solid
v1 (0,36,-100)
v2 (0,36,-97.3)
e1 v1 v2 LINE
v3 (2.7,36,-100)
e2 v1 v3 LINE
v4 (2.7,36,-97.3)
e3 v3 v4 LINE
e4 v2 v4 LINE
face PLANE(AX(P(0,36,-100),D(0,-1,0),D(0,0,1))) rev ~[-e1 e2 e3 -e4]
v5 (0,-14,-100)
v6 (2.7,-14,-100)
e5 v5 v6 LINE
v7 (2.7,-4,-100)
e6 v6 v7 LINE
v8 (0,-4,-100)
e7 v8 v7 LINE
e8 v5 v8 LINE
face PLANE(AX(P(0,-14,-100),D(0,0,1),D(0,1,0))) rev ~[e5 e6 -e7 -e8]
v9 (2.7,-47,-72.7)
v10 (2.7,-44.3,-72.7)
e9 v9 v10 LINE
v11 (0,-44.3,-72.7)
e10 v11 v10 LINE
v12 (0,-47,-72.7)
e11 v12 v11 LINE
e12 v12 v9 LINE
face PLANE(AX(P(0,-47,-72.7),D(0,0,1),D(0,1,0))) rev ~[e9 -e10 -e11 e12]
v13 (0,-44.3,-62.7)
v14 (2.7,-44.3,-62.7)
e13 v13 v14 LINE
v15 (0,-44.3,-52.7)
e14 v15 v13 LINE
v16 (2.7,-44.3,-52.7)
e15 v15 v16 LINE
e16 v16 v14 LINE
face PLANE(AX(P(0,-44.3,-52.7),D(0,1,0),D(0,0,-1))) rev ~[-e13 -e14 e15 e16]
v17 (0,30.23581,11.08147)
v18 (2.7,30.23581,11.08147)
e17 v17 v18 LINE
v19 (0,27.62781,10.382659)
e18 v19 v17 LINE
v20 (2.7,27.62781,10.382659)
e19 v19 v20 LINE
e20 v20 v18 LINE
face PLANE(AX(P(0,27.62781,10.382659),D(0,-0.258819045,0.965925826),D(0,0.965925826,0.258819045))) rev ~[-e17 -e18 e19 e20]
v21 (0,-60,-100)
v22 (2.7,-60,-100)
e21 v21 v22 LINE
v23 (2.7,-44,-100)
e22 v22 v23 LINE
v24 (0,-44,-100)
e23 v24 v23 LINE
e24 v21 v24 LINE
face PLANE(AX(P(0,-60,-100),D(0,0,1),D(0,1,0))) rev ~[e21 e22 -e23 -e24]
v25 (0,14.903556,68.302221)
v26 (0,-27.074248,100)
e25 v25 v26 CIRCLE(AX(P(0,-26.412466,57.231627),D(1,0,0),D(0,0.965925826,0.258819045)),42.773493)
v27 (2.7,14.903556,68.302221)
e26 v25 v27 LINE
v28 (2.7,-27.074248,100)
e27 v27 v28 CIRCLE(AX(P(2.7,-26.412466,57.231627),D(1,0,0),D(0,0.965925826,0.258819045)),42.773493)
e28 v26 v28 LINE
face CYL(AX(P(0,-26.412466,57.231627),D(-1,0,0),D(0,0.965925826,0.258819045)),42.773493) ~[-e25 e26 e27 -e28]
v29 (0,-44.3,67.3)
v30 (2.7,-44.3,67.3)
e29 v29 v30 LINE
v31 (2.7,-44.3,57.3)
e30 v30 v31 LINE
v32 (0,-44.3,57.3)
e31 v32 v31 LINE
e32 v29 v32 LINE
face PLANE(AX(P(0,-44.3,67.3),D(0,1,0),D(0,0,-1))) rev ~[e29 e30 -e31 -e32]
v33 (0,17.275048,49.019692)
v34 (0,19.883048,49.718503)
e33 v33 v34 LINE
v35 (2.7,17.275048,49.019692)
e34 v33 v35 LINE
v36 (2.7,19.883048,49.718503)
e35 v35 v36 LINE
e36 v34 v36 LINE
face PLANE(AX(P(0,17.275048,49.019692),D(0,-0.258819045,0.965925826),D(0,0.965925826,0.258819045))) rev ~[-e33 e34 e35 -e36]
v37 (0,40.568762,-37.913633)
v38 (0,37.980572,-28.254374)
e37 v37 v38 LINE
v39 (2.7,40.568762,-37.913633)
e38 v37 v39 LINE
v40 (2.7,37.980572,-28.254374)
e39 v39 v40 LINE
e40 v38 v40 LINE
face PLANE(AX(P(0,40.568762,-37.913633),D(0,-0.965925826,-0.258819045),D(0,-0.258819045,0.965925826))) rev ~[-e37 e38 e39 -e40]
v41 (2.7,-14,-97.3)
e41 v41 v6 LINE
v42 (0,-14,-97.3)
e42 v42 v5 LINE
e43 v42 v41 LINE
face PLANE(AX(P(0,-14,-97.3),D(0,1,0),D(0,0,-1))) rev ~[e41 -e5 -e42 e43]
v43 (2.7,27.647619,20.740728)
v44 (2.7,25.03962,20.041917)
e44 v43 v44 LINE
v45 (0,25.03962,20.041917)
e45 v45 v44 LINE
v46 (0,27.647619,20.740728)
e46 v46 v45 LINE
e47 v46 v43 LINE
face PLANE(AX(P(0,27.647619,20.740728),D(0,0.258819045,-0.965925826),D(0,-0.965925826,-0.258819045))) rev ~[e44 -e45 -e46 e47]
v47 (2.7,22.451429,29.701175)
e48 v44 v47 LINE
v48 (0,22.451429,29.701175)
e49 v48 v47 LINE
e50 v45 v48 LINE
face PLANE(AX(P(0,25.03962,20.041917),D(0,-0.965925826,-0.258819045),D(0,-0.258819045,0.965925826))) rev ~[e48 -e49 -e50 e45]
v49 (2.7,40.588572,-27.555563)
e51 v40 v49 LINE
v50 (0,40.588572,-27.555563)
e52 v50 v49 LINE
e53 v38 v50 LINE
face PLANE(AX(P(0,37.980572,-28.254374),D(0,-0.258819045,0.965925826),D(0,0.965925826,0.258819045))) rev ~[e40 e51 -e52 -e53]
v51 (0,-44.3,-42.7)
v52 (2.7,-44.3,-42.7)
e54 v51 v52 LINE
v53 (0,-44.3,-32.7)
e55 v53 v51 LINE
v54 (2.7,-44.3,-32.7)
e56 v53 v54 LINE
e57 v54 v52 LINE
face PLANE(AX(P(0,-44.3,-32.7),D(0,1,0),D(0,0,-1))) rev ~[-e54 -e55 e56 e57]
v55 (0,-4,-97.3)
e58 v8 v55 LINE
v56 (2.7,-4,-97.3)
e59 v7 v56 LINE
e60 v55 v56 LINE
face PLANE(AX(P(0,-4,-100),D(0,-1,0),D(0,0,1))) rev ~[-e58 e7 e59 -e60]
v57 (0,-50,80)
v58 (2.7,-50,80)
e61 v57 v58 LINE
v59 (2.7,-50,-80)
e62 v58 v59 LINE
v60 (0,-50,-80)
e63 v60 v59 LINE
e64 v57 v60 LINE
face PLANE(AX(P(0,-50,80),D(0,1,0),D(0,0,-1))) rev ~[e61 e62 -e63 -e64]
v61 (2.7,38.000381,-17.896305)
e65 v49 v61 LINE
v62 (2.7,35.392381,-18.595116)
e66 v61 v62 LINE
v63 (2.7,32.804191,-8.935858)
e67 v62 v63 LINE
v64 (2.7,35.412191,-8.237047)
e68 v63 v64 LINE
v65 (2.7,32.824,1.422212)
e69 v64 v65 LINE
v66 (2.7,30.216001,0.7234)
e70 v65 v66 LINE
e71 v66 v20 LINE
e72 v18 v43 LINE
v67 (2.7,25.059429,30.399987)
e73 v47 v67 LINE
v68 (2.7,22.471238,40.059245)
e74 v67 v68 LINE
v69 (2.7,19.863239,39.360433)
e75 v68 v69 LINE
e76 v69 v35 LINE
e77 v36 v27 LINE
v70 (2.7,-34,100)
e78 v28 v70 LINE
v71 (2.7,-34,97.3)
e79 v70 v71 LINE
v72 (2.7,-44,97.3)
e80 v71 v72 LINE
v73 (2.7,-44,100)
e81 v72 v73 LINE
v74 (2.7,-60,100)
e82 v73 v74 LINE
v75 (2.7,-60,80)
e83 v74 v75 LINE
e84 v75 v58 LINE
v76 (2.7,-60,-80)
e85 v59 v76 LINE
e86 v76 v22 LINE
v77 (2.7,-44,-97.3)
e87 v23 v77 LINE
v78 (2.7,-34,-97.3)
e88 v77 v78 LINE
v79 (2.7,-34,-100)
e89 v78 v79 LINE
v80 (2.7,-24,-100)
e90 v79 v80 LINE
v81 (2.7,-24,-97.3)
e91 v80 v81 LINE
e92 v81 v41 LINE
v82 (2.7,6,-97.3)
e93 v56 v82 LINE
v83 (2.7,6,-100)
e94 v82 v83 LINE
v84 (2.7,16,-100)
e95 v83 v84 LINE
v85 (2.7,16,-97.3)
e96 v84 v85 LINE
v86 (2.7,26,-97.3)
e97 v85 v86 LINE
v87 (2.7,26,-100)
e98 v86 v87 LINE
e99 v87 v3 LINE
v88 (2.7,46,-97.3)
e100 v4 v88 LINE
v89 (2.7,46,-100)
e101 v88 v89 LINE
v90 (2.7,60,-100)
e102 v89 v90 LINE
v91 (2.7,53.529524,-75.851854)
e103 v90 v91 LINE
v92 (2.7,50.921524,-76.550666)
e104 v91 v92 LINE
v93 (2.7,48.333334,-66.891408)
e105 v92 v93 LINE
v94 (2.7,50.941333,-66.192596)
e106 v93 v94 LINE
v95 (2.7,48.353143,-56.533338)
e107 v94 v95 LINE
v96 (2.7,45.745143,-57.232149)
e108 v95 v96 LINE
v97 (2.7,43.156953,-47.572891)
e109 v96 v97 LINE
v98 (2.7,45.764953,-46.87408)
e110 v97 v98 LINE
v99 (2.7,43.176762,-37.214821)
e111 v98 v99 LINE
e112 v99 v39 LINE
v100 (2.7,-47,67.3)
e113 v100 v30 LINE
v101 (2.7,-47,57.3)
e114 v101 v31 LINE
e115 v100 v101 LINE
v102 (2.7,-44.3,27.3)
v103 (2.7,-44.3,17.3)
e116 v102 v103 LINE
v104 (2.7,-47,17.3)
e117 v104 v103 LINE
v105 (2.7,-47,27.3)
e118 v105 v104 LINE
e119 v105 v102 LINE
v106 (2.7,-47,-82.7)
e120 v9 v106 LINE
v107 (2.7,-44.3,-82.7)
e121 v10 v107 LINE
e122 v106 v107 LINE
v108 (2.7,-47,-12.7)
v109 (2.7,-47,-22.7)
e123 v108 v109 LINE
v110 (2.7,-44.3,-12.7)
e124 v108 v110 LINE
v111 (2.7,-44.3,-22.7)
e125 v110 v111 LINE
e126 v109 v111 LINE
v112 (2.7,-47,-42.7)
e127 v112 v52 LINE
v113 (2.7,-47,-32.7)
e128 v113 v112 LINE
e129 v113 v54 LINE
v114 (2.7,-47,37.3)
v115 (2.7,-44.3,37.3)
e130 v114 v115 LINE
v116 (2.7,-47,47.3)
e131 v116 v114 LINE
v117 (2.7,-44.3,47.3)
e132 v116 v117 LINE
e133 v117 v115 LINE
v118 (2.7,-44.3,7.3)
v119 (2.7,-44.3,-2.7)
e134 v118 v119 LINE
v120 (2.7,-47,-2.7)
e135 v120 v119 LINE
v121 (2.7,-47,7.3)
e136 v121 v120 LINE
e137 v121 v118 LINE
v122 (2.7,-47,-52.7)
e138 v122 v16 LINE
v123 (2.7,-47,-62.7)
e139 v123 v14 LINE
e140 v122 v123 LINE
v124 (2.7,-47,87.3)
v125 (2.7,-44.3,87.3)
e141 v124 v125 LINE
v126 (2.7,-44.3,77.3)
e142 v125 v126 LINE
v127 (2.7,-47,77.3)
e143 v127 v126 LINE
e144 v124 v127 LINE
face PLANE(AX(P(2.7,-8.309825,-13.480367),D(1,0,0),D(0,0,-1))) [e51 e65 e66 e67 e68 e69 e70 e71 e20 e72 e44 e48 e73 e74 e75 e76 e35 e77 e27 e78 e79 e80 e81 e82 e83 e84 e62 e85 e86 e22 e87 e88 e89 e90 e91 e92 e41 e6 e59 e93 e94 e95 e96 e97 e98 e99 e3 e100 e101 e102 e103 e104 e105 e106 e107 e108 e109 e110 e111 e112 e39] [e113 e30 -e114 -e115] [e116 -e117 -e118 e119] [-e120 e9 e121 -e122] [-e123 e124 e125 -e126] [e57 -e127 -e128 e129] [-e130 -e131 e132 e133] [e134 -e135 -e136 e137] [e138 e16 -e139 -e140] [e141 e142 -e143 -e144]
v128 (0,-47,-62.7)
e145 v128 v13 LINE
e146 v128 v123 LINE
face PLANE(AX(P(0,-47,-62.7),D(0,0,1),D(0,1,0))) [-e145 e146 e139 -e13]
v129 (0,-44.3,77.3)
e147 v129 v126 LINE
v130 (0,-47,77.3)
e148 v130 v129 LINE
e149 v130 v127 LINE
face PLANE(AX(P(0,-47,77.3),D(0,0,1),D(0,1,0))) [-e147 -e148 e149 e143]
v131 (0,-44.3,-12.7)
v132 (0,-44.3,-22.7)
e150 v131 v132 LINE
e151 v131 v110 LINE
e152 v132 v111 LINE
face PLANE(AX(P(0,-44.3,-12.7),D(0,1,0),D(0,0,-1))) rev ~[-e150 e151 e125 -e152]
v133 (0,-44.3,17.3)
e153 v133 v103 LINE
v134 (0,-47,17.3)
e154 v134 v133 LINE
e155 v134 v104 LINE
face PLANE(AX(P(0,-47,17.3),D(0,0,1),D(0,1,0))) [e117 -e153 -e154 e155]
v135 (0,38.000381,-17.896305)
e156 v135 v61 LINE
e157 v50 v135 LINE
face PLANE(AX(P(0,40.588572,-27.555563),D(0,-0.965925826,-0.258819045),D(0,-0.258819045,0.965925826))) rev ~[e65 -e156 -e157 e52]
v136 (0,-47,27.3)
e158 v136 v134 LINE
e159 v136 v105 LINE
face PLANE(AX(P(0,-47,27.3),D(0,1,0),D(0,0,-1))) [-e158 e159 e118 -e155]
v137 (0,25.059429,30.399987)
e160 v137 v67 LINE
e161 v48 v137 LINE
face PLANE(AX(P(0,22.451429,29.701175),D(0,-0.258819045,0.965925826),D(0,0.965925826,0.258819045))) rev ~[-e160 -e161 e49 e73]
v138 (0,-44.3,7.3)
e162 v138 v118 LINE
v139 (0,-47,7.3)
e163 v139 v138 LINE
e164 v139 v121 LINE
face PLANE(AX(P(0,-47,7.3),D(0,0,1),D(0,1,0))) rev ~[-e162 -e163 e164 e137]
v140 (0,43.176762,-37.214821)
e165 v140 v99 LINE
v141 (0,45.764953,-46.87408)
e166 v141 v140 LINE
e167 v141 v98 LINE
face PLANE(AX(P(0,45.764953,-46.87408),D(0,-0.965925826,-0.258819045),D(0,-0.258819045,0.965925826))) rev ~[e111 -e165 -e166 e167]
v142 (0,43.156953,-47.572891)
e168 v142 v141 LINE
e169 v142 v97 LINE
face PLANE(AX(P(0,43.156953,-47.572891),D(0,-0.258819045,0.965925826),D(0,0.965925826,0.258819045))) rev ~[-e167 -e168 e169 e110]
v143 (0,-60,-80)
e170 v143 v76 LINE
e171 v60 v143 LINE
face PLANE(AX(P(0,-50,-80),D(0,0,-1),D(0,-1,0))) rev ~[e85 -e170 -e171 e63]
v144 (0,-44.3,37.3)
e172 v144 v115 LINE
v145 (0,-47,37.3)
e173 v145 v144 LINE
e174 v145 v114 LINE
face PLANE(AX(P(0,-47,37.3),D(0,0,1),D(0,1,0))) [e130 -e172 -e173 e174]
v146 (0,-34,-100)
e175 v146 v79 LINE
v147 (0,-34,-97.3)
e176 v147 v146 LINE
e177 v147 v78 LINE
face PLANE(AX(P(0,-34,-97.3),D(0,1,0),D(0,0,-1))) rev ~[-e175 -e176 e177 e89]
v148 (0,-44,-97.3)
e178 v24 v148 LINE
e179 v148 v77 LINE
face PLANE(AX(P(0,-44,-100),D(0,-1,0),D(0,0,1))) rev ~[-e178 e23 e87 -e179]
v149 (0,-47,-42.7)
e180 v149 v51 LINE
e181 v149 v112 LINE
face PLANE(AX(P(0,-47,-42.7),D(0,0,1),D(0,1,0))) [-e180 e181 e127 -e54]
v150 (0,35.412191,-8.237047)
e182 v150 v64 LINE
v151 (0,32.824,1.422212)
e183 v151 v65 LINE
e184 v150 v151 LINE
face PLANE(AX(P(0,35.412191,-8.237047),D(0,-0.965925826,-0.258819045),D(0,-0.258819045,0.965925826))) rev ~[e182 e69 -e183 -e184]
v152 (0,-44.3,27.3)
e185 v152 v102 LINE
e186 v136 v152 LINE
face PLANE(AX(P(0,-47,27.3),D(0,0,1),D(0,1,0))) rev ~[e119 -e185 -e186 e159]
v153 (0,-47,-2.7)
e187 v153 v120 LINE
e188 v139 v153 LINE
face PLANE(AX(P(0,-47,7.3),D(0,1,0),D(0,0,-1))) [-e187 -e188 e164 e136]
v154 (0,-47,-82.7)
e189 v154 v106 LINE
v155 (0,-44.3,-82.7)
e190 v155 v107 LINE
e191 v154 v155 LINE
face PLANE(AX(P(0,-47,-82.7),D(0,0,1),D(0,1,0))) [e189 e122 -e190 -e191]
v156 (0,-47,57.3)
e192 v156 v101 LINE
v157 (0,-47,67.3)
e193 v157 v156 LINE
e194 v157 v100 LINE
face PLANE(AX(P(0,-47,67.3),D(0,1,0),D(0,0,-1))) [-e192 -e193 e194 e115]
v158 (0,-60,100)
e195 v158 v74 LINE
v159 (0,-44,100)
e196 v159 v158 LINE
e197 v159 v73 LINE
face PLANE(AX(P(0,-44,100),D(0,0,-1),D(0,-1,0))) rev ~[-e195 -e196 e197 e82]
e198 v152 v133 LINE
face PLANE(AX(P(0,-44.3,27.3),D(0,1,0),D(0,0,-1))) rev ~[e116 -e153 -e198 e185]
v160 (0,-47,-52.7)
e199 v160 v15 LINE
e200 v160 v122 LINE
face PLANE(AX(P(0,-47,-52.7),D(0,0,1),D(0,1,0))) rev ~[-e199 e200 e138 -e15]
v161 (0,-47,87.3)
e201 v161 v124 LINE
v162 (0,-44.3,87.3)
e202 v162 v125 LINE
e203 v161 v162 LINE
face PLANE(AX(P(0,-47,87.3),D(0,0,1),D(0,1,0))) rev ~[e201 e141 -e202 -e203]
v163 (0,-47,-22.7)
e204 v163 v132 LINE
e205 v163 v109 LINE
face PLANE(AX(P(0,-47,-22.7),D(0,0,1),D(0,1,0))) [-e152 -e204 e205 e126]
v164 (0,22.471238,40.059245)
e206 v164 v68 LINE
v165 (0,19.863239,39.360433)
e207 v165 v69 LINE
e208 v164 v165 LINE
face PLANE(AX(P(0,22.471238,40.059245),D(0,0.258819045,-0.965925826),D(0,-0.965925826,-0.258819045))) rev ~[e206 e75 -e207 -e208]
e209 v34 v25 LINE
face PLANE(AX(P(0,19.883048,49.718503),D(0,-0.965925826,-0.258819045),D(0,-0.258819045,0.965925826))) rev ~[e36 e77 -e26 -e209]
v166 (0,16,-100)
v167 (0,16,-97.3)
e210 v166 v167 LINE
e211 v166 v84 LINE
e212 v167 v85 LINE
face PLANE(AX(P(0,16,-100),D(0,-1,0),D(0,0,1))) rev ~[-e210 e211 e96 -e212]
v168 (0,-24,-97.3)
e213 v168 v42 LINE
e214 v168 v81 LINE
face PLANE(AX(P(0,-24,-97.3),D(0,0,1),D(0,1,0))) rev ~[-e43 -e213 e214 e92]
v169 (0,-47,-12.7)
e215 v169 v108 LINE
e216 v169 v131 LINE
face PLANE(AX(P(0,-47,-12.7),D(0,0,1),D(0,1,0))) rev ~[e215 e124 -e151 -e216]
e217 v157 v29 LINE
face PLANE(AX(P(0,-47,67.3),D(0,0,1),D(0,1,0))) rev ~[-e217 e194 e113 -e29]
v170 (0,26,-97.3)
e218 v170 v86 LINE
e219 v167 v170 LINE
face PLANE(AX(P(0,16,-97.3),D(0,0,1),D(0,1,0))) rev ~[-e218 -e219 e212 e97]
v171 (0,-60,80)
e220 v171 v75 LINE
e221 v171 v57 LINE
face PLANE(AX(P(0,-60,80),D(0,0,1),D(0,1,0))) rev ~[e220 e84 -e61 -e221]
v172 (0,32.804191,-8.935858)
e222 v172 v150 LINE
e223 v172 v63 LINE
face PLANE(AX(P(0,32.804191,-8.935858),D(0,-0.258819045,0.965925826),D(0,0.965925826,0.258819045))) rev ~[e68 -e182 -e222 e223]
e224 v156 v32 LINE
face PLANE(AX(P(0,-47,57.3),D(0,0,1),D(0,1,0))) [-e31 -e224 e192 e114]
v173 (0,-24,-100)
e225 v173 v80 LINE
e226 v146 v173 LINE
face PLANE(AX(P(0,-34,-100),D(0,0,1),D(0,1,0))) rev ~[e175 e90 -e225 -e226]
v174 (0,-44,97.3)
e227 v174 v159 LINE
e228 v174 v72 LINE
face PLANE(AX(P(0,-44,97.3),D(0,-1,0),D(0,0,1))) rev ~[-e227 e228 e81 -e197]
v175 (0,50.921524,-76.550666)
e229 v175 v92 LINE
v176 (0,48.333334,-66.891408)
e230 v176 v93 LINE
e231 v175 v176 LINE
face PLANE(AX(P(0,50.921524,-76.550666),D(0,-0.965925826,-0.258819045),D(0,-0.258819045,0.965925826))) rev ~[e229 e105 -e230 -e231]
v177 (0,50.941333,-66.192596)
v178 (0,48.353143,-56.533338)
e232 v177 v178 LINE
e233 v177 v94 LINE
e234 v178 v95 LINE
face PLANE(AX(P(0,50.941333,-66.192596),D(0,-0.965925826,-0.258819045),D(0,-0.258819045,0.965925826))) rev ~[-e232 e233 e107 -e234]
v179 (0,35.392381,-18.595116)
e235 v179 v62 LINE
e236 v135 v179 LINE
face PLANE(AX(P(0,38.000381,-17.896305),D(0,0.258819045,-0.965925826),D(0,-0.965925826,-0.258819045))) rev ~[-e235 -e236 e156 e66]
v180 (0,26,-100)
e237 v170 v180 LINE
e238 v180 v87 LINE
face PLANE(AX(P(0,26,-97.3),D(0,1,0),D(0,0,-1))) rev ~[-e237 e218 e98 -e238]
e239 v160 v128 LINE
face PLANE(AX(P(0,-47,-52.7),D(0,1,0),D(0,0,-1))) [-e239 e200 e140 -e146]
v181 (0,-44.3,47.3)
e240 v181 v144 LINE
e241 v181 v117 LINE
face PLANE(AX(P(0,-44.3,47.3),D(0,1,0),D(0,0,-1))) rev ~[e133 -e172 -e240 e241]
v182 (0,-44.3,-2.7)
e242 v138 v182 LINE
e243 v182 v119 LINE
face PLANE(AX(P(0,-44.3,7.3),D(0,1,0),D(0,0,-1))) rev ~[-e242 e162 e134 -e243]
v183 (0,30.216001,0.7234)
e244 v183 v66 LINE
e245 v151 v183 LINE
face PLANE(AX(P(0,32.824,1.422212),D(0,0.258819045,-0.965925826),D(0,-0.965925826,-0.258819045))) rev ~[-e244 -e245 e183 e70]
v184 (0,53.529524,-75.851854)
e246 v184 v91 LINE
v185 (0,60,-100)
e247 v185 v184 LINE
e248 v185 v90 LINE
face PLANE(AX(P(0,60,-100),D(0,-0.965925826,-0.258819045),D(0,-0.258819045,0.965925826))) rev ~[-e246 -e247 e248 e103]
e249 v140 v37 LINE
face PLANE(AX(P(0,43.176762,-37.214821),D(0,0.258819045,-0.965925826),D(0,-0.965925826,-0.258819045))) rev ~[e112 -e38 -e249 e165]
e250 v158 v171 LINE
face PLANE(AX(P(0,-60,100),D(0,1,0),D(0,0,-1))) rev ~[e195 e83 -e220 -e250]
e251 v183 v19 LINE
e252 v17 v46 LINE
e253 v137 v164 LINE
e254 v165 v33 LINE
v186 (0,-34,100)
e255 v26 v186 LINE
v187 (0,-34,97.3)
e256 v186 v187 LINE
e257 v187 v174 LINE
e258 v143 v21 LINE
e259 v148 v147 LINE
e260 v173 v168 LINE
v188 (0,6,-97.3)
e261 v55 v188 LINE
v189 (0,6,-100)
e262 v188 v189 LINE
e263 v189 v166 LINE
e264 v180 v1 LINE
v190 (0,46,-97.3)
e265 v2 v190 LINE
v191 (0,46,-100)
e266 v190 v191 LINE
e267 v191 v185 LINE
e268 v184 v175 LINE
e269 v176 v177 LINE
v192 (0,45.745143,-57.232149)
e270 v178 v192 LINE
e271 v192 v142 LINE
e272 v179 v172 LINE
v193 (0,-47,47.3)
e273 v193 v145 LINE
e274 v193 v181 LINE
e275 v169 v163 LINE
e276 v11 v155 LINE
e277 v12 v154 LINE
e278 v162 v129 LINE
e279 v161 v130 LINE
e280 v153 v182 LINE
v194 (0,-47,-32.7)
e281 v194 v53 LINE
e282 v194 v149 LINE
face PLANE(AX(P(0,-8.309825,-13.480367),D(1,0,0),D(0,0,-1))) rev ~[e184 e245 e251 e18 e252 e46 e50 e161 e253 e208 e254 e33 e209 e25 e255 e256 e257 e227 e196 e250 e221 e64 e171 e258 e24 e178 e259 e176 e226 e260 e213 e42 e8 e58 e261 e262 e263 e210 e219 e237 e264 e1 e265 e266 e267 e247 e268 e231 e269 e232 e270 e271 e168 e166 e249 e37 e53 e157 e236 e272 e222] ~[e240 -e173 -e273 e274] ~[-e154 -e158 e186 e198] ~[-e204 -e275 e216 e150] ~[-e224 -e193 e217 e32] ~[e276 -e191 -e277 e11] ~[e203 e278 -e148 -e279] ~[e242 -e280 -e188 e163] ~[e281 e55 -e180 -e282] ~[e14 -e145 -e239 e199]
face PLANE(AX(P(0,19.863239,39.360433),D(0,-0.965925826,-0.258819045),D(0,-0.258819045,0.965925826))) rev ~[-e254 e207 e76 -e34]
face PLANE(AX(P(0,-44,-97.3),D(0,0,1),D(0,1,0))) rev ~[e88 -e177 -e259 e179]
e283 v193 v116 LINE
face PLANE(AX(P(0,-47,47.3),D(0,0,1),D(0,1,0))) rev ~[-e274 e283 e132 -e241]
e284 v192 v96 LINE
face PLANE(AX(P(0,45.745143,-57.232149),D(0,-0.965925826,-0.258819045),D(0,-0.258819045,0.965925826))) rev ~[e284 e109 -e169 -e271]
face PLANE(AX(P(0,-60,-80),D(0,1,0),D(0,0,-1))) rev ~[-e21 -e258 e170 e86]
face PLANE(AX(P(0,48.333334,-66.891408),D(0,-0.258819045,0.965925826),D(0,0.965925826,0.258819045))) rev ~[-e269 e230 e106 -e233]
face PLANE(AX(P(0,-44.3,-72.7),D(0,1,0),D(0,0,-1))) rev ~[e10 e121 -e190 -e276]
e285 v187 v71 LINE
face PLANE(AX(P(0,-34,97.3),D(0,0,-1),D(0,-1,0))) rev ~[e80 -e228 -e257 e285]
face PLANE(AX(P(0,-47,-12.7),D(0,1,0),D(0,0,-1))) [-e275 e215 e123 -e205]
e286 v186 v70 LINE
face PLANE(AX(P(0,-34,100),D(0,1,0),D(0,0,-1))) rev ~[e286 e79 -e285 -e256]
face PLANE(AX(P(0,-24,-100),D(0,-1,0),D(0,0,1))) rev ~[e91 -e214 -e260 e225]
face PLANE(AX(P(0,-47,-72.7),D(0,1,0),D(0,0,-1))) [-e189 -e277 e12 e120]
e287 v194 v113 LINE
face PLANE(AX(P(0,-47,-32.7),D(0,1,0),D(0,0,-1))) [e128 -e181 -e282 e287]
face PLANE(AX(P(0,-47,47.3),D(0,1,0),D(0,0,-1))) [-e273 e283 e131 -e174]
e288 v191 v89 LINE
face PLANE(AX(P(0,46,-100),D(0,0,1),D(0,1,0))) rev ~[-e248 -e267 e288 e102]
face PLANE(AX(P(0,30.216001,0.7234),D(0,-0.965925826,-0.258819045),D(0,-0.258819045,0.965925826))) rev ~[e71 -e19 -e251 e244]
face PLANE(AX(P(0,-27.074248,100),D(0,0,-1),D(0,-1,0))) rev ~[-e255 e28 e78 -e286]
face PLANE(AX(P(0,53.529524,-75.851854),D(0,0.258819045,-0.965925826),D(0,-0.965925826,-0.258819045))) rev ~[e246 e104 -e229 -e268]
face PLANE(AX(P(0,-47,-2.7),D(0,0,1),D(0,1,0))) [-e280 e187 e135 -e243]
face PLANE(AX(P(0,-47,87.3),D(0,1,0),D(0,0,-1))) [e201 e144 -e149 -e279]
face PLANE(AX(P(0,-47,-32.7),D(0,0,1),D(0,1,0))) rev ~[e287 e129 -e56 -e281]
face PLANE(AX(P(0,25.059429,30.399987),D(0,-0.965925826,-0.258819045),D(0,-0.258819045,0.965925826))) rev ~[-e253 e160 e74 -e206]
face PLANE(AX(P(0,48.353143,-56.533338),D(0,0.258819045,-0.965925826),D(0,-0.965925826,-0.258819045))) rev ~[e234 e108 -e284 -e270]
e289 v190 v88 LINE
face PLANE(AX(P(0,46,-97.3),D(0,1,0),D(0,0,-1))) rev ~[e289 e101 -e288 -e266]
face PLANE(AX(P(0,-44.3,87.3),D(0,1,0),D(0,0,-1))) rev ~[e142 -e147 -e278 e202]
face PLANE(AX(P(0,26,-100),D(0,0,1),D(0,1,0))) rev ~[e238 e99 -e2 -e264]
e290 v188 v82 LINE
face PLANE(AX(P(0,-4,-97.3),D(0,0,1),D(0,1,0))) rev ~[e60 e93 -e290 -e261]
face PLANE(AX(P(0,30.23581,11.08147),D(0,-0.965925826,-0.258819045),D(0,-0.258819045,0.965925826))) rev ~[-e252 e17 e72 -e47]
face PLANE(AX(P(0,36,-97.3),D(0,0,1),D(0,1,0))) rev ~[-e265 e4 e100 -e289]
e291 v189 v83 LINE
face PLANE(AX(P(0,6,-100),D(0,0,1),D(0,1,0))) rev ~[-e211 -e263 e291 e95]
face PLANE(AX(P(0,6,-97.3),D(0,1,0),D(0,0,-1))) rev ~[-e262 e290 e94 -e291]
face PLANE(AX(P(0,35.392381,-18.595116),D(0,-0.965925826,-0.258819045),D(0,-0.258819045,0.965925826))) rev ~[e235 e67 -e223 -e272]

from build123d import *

# Parameters (mm, degrees)
SKETCH1_W           = 10
SKETCH1_H           = 2.7
BOSS_EXTRUDE1_DEPTH = 2.7


with BuildPart() as part:
    # Sketch1 → Boss-Extrude1 (new body)
    with BuildSketch(Plane(origin=(0, 0, 0), x_dir=(0, 0, -1), z_dir=(1, 0, 0))):
        with BuildLine():
            Line((-100, -44), (-100, -60))
            Line((-100, -60), (-80, -60))
            Line((-80, -60), (-80, -50))
            Line((-80, -50), (80, -50))
            Line((80, -50), (80, -60))
            Line((80, -60), (100, -60))
            Line((100, -60), (100, -44))
            Line((100, -44), (97.3, -44))
            Line((97.3, -44), (97.3, -34))
            Line((97.3, -34), (100, -34))
            Line((100, -34), (100, -24))
            Line((100, -24), (97.3, -24))
            Line((97.3, -24), (97.3, -14))
            Line((97.3, -14), (100, -14))
            Line((100, -14), (100, -4))
            Line((100, -4), (97.3, -4))
            Line((97.3, -4), (97.3, 6))
            Line((97.3, 6), (100, 6))
            Line((100, 6), (100, 16))
            Line((100, 16), (97.3, 16))
            Line((97.3, 16), (97.3, 26))
            Line((97.3, 26), (100, 26))
            Line((100, 26), (100, 36))
            Line((100, 36), (97.3, 36))
            Line((97.3, 36), (97.3, 46))
            Line((97.3, 46), (100, 46))
            Line((100, 46), (100, 60))
            Line((100, 60), (75.851854343, 53.529523872))
            Line((75.851854343, 53.529523872), (76.550665765, 50.921524141))
            Line((76.550665765, 50.921524141), (66.891407502, 48.33333369))
            Line((66.891407502, 48.33333369), (66.19259608, 50.941333421))
            Line((66.19259608, 50.941333421), (56.533337817, 48.35314297))
            Line((56.533337817, 48.35314297), (57.232149239, 45.745143239))
            Line((57.232149239, 45.745143239), (47.572890976, 43.156952788))
            Line((47.572890976, 43.156952788), (46.874079554, 45.764952519))
            Line((46.874079554, 45.764952519), (37.214821291, 43.176762068))
            Line((37.214821291, 43.176762068), (37.913632713, 40.568762337))
            Line((37.913632713, 40.568762337), (28.25437445, 37.980571886))
            Line((28.25437445, 37.980571886), (27.555563028, 40.588571617))
            Line((27.555563028, 40.588571617), (17.896304765, 38.000381166))
            Line((17.896304765, 38.000381166), (18.595116187, 35.392381435))
            Line((18.595116187, 35.392381435), (8.935857924, 32.804190984))
            Line((8.935857924, 32.804190984), (8.237046503, 35.412190715))
            Line((8.237046503, 35.412190715), (-1.42221176, 32.824000264))
            Line((-1.42221176, 32.824000264), (-0.723400339, 30.216000533))
            Line((-0.723400339, 30.216000533), (-10.382658601, 27.627810082))
            Line((-10.382658601, 27.627810082), (-11.081470023, 30.235809813))
            Line((-11.081470023, 30.235809813), (-20.740728286, 27.647619362))
            Line((-20.740728286, 27.647619362), (-20.041916864, 25.039619631))
            Line((-20.041916864, 25.039619631), (-29.701175127, 22.45142918))
            Line((-29.701175127, 22.45142918), (-30.399986549, 25.059428911))
            Line((-30.399986549, 25.059428911), (-40.059244812, 22.47123846))
            Line((-40.059244812, 22.47123846), (-39.36043339, 19.863238729))
            Line((-39.36043339, 19.863238729), (-49.019691653, 17.275048278))
            Line((-49.019691653, 17.275048278), (-49.718503075, 19.883048009))
            Line((-49.718503075, 19.883048009), (-68.302221487, 14.903555668))
            ThreePointArc((-68.302221487, 14.903555668), (-91.366544651, -0.636913735), (-100, -27.074247963))
            Line((-100, -27.074247963), (-100, -34))
            Line((-100, -34), (-97.3, -34))
            Line((-97.3, -34), (-97.3, -44))
            Line((-97.3, -44), (-100, -44))
        make_face()
        with Locations((-82.3, -45.65)):
            Rectangle(SKETCH1_W, SKETCH1_H, mode=Mode.SUBTRACT)
        with Locations((-62.3, -45.65)):
            Rectangle(SKETCH1_W, SKETCH1_H, mode=Mode.SUBTRACT)
        with Locations((-42.3, -45.65)):
            Rectangle(SKETCH1_W, SKETCH1_H, mode=Mode.SUBTRACT)
        with Locations((-22.3, -45.65)):
            Rectangle(SKETCH1_W, SKETCH1_H, mode=Mode.SUBTRACT)
        with Locations((-2.3, -45.65)):
            Rectangle(SKETCH1_W, SKETCH1_H, mode=Mode.SUBTRACT)
        with Locations((17.7, -45.65)):
            Rectangle(SKETCH1_W, SKETCH1_H, mode=Mode.SUBTRACT)
        with Locations((37.7, -45.65)):
            Rectangle(SKETCH1_W, SKETCH1_H, mode=Mode.SUBTRACT)
        with Locations((57.7, -45.65)):
            Rectangle(SKETCH1_W, SKETCH1_H, mode=Mode.SUBTRACT)
        with Locations((77.7, -45.65)):
            Rectangle(SKETCH1_W, SKETCH1_H, mode=Mode.SUBTRACT)
    extrude(amount=BOSS_EXTRUDE1_DEPTH)


solid = part.part
